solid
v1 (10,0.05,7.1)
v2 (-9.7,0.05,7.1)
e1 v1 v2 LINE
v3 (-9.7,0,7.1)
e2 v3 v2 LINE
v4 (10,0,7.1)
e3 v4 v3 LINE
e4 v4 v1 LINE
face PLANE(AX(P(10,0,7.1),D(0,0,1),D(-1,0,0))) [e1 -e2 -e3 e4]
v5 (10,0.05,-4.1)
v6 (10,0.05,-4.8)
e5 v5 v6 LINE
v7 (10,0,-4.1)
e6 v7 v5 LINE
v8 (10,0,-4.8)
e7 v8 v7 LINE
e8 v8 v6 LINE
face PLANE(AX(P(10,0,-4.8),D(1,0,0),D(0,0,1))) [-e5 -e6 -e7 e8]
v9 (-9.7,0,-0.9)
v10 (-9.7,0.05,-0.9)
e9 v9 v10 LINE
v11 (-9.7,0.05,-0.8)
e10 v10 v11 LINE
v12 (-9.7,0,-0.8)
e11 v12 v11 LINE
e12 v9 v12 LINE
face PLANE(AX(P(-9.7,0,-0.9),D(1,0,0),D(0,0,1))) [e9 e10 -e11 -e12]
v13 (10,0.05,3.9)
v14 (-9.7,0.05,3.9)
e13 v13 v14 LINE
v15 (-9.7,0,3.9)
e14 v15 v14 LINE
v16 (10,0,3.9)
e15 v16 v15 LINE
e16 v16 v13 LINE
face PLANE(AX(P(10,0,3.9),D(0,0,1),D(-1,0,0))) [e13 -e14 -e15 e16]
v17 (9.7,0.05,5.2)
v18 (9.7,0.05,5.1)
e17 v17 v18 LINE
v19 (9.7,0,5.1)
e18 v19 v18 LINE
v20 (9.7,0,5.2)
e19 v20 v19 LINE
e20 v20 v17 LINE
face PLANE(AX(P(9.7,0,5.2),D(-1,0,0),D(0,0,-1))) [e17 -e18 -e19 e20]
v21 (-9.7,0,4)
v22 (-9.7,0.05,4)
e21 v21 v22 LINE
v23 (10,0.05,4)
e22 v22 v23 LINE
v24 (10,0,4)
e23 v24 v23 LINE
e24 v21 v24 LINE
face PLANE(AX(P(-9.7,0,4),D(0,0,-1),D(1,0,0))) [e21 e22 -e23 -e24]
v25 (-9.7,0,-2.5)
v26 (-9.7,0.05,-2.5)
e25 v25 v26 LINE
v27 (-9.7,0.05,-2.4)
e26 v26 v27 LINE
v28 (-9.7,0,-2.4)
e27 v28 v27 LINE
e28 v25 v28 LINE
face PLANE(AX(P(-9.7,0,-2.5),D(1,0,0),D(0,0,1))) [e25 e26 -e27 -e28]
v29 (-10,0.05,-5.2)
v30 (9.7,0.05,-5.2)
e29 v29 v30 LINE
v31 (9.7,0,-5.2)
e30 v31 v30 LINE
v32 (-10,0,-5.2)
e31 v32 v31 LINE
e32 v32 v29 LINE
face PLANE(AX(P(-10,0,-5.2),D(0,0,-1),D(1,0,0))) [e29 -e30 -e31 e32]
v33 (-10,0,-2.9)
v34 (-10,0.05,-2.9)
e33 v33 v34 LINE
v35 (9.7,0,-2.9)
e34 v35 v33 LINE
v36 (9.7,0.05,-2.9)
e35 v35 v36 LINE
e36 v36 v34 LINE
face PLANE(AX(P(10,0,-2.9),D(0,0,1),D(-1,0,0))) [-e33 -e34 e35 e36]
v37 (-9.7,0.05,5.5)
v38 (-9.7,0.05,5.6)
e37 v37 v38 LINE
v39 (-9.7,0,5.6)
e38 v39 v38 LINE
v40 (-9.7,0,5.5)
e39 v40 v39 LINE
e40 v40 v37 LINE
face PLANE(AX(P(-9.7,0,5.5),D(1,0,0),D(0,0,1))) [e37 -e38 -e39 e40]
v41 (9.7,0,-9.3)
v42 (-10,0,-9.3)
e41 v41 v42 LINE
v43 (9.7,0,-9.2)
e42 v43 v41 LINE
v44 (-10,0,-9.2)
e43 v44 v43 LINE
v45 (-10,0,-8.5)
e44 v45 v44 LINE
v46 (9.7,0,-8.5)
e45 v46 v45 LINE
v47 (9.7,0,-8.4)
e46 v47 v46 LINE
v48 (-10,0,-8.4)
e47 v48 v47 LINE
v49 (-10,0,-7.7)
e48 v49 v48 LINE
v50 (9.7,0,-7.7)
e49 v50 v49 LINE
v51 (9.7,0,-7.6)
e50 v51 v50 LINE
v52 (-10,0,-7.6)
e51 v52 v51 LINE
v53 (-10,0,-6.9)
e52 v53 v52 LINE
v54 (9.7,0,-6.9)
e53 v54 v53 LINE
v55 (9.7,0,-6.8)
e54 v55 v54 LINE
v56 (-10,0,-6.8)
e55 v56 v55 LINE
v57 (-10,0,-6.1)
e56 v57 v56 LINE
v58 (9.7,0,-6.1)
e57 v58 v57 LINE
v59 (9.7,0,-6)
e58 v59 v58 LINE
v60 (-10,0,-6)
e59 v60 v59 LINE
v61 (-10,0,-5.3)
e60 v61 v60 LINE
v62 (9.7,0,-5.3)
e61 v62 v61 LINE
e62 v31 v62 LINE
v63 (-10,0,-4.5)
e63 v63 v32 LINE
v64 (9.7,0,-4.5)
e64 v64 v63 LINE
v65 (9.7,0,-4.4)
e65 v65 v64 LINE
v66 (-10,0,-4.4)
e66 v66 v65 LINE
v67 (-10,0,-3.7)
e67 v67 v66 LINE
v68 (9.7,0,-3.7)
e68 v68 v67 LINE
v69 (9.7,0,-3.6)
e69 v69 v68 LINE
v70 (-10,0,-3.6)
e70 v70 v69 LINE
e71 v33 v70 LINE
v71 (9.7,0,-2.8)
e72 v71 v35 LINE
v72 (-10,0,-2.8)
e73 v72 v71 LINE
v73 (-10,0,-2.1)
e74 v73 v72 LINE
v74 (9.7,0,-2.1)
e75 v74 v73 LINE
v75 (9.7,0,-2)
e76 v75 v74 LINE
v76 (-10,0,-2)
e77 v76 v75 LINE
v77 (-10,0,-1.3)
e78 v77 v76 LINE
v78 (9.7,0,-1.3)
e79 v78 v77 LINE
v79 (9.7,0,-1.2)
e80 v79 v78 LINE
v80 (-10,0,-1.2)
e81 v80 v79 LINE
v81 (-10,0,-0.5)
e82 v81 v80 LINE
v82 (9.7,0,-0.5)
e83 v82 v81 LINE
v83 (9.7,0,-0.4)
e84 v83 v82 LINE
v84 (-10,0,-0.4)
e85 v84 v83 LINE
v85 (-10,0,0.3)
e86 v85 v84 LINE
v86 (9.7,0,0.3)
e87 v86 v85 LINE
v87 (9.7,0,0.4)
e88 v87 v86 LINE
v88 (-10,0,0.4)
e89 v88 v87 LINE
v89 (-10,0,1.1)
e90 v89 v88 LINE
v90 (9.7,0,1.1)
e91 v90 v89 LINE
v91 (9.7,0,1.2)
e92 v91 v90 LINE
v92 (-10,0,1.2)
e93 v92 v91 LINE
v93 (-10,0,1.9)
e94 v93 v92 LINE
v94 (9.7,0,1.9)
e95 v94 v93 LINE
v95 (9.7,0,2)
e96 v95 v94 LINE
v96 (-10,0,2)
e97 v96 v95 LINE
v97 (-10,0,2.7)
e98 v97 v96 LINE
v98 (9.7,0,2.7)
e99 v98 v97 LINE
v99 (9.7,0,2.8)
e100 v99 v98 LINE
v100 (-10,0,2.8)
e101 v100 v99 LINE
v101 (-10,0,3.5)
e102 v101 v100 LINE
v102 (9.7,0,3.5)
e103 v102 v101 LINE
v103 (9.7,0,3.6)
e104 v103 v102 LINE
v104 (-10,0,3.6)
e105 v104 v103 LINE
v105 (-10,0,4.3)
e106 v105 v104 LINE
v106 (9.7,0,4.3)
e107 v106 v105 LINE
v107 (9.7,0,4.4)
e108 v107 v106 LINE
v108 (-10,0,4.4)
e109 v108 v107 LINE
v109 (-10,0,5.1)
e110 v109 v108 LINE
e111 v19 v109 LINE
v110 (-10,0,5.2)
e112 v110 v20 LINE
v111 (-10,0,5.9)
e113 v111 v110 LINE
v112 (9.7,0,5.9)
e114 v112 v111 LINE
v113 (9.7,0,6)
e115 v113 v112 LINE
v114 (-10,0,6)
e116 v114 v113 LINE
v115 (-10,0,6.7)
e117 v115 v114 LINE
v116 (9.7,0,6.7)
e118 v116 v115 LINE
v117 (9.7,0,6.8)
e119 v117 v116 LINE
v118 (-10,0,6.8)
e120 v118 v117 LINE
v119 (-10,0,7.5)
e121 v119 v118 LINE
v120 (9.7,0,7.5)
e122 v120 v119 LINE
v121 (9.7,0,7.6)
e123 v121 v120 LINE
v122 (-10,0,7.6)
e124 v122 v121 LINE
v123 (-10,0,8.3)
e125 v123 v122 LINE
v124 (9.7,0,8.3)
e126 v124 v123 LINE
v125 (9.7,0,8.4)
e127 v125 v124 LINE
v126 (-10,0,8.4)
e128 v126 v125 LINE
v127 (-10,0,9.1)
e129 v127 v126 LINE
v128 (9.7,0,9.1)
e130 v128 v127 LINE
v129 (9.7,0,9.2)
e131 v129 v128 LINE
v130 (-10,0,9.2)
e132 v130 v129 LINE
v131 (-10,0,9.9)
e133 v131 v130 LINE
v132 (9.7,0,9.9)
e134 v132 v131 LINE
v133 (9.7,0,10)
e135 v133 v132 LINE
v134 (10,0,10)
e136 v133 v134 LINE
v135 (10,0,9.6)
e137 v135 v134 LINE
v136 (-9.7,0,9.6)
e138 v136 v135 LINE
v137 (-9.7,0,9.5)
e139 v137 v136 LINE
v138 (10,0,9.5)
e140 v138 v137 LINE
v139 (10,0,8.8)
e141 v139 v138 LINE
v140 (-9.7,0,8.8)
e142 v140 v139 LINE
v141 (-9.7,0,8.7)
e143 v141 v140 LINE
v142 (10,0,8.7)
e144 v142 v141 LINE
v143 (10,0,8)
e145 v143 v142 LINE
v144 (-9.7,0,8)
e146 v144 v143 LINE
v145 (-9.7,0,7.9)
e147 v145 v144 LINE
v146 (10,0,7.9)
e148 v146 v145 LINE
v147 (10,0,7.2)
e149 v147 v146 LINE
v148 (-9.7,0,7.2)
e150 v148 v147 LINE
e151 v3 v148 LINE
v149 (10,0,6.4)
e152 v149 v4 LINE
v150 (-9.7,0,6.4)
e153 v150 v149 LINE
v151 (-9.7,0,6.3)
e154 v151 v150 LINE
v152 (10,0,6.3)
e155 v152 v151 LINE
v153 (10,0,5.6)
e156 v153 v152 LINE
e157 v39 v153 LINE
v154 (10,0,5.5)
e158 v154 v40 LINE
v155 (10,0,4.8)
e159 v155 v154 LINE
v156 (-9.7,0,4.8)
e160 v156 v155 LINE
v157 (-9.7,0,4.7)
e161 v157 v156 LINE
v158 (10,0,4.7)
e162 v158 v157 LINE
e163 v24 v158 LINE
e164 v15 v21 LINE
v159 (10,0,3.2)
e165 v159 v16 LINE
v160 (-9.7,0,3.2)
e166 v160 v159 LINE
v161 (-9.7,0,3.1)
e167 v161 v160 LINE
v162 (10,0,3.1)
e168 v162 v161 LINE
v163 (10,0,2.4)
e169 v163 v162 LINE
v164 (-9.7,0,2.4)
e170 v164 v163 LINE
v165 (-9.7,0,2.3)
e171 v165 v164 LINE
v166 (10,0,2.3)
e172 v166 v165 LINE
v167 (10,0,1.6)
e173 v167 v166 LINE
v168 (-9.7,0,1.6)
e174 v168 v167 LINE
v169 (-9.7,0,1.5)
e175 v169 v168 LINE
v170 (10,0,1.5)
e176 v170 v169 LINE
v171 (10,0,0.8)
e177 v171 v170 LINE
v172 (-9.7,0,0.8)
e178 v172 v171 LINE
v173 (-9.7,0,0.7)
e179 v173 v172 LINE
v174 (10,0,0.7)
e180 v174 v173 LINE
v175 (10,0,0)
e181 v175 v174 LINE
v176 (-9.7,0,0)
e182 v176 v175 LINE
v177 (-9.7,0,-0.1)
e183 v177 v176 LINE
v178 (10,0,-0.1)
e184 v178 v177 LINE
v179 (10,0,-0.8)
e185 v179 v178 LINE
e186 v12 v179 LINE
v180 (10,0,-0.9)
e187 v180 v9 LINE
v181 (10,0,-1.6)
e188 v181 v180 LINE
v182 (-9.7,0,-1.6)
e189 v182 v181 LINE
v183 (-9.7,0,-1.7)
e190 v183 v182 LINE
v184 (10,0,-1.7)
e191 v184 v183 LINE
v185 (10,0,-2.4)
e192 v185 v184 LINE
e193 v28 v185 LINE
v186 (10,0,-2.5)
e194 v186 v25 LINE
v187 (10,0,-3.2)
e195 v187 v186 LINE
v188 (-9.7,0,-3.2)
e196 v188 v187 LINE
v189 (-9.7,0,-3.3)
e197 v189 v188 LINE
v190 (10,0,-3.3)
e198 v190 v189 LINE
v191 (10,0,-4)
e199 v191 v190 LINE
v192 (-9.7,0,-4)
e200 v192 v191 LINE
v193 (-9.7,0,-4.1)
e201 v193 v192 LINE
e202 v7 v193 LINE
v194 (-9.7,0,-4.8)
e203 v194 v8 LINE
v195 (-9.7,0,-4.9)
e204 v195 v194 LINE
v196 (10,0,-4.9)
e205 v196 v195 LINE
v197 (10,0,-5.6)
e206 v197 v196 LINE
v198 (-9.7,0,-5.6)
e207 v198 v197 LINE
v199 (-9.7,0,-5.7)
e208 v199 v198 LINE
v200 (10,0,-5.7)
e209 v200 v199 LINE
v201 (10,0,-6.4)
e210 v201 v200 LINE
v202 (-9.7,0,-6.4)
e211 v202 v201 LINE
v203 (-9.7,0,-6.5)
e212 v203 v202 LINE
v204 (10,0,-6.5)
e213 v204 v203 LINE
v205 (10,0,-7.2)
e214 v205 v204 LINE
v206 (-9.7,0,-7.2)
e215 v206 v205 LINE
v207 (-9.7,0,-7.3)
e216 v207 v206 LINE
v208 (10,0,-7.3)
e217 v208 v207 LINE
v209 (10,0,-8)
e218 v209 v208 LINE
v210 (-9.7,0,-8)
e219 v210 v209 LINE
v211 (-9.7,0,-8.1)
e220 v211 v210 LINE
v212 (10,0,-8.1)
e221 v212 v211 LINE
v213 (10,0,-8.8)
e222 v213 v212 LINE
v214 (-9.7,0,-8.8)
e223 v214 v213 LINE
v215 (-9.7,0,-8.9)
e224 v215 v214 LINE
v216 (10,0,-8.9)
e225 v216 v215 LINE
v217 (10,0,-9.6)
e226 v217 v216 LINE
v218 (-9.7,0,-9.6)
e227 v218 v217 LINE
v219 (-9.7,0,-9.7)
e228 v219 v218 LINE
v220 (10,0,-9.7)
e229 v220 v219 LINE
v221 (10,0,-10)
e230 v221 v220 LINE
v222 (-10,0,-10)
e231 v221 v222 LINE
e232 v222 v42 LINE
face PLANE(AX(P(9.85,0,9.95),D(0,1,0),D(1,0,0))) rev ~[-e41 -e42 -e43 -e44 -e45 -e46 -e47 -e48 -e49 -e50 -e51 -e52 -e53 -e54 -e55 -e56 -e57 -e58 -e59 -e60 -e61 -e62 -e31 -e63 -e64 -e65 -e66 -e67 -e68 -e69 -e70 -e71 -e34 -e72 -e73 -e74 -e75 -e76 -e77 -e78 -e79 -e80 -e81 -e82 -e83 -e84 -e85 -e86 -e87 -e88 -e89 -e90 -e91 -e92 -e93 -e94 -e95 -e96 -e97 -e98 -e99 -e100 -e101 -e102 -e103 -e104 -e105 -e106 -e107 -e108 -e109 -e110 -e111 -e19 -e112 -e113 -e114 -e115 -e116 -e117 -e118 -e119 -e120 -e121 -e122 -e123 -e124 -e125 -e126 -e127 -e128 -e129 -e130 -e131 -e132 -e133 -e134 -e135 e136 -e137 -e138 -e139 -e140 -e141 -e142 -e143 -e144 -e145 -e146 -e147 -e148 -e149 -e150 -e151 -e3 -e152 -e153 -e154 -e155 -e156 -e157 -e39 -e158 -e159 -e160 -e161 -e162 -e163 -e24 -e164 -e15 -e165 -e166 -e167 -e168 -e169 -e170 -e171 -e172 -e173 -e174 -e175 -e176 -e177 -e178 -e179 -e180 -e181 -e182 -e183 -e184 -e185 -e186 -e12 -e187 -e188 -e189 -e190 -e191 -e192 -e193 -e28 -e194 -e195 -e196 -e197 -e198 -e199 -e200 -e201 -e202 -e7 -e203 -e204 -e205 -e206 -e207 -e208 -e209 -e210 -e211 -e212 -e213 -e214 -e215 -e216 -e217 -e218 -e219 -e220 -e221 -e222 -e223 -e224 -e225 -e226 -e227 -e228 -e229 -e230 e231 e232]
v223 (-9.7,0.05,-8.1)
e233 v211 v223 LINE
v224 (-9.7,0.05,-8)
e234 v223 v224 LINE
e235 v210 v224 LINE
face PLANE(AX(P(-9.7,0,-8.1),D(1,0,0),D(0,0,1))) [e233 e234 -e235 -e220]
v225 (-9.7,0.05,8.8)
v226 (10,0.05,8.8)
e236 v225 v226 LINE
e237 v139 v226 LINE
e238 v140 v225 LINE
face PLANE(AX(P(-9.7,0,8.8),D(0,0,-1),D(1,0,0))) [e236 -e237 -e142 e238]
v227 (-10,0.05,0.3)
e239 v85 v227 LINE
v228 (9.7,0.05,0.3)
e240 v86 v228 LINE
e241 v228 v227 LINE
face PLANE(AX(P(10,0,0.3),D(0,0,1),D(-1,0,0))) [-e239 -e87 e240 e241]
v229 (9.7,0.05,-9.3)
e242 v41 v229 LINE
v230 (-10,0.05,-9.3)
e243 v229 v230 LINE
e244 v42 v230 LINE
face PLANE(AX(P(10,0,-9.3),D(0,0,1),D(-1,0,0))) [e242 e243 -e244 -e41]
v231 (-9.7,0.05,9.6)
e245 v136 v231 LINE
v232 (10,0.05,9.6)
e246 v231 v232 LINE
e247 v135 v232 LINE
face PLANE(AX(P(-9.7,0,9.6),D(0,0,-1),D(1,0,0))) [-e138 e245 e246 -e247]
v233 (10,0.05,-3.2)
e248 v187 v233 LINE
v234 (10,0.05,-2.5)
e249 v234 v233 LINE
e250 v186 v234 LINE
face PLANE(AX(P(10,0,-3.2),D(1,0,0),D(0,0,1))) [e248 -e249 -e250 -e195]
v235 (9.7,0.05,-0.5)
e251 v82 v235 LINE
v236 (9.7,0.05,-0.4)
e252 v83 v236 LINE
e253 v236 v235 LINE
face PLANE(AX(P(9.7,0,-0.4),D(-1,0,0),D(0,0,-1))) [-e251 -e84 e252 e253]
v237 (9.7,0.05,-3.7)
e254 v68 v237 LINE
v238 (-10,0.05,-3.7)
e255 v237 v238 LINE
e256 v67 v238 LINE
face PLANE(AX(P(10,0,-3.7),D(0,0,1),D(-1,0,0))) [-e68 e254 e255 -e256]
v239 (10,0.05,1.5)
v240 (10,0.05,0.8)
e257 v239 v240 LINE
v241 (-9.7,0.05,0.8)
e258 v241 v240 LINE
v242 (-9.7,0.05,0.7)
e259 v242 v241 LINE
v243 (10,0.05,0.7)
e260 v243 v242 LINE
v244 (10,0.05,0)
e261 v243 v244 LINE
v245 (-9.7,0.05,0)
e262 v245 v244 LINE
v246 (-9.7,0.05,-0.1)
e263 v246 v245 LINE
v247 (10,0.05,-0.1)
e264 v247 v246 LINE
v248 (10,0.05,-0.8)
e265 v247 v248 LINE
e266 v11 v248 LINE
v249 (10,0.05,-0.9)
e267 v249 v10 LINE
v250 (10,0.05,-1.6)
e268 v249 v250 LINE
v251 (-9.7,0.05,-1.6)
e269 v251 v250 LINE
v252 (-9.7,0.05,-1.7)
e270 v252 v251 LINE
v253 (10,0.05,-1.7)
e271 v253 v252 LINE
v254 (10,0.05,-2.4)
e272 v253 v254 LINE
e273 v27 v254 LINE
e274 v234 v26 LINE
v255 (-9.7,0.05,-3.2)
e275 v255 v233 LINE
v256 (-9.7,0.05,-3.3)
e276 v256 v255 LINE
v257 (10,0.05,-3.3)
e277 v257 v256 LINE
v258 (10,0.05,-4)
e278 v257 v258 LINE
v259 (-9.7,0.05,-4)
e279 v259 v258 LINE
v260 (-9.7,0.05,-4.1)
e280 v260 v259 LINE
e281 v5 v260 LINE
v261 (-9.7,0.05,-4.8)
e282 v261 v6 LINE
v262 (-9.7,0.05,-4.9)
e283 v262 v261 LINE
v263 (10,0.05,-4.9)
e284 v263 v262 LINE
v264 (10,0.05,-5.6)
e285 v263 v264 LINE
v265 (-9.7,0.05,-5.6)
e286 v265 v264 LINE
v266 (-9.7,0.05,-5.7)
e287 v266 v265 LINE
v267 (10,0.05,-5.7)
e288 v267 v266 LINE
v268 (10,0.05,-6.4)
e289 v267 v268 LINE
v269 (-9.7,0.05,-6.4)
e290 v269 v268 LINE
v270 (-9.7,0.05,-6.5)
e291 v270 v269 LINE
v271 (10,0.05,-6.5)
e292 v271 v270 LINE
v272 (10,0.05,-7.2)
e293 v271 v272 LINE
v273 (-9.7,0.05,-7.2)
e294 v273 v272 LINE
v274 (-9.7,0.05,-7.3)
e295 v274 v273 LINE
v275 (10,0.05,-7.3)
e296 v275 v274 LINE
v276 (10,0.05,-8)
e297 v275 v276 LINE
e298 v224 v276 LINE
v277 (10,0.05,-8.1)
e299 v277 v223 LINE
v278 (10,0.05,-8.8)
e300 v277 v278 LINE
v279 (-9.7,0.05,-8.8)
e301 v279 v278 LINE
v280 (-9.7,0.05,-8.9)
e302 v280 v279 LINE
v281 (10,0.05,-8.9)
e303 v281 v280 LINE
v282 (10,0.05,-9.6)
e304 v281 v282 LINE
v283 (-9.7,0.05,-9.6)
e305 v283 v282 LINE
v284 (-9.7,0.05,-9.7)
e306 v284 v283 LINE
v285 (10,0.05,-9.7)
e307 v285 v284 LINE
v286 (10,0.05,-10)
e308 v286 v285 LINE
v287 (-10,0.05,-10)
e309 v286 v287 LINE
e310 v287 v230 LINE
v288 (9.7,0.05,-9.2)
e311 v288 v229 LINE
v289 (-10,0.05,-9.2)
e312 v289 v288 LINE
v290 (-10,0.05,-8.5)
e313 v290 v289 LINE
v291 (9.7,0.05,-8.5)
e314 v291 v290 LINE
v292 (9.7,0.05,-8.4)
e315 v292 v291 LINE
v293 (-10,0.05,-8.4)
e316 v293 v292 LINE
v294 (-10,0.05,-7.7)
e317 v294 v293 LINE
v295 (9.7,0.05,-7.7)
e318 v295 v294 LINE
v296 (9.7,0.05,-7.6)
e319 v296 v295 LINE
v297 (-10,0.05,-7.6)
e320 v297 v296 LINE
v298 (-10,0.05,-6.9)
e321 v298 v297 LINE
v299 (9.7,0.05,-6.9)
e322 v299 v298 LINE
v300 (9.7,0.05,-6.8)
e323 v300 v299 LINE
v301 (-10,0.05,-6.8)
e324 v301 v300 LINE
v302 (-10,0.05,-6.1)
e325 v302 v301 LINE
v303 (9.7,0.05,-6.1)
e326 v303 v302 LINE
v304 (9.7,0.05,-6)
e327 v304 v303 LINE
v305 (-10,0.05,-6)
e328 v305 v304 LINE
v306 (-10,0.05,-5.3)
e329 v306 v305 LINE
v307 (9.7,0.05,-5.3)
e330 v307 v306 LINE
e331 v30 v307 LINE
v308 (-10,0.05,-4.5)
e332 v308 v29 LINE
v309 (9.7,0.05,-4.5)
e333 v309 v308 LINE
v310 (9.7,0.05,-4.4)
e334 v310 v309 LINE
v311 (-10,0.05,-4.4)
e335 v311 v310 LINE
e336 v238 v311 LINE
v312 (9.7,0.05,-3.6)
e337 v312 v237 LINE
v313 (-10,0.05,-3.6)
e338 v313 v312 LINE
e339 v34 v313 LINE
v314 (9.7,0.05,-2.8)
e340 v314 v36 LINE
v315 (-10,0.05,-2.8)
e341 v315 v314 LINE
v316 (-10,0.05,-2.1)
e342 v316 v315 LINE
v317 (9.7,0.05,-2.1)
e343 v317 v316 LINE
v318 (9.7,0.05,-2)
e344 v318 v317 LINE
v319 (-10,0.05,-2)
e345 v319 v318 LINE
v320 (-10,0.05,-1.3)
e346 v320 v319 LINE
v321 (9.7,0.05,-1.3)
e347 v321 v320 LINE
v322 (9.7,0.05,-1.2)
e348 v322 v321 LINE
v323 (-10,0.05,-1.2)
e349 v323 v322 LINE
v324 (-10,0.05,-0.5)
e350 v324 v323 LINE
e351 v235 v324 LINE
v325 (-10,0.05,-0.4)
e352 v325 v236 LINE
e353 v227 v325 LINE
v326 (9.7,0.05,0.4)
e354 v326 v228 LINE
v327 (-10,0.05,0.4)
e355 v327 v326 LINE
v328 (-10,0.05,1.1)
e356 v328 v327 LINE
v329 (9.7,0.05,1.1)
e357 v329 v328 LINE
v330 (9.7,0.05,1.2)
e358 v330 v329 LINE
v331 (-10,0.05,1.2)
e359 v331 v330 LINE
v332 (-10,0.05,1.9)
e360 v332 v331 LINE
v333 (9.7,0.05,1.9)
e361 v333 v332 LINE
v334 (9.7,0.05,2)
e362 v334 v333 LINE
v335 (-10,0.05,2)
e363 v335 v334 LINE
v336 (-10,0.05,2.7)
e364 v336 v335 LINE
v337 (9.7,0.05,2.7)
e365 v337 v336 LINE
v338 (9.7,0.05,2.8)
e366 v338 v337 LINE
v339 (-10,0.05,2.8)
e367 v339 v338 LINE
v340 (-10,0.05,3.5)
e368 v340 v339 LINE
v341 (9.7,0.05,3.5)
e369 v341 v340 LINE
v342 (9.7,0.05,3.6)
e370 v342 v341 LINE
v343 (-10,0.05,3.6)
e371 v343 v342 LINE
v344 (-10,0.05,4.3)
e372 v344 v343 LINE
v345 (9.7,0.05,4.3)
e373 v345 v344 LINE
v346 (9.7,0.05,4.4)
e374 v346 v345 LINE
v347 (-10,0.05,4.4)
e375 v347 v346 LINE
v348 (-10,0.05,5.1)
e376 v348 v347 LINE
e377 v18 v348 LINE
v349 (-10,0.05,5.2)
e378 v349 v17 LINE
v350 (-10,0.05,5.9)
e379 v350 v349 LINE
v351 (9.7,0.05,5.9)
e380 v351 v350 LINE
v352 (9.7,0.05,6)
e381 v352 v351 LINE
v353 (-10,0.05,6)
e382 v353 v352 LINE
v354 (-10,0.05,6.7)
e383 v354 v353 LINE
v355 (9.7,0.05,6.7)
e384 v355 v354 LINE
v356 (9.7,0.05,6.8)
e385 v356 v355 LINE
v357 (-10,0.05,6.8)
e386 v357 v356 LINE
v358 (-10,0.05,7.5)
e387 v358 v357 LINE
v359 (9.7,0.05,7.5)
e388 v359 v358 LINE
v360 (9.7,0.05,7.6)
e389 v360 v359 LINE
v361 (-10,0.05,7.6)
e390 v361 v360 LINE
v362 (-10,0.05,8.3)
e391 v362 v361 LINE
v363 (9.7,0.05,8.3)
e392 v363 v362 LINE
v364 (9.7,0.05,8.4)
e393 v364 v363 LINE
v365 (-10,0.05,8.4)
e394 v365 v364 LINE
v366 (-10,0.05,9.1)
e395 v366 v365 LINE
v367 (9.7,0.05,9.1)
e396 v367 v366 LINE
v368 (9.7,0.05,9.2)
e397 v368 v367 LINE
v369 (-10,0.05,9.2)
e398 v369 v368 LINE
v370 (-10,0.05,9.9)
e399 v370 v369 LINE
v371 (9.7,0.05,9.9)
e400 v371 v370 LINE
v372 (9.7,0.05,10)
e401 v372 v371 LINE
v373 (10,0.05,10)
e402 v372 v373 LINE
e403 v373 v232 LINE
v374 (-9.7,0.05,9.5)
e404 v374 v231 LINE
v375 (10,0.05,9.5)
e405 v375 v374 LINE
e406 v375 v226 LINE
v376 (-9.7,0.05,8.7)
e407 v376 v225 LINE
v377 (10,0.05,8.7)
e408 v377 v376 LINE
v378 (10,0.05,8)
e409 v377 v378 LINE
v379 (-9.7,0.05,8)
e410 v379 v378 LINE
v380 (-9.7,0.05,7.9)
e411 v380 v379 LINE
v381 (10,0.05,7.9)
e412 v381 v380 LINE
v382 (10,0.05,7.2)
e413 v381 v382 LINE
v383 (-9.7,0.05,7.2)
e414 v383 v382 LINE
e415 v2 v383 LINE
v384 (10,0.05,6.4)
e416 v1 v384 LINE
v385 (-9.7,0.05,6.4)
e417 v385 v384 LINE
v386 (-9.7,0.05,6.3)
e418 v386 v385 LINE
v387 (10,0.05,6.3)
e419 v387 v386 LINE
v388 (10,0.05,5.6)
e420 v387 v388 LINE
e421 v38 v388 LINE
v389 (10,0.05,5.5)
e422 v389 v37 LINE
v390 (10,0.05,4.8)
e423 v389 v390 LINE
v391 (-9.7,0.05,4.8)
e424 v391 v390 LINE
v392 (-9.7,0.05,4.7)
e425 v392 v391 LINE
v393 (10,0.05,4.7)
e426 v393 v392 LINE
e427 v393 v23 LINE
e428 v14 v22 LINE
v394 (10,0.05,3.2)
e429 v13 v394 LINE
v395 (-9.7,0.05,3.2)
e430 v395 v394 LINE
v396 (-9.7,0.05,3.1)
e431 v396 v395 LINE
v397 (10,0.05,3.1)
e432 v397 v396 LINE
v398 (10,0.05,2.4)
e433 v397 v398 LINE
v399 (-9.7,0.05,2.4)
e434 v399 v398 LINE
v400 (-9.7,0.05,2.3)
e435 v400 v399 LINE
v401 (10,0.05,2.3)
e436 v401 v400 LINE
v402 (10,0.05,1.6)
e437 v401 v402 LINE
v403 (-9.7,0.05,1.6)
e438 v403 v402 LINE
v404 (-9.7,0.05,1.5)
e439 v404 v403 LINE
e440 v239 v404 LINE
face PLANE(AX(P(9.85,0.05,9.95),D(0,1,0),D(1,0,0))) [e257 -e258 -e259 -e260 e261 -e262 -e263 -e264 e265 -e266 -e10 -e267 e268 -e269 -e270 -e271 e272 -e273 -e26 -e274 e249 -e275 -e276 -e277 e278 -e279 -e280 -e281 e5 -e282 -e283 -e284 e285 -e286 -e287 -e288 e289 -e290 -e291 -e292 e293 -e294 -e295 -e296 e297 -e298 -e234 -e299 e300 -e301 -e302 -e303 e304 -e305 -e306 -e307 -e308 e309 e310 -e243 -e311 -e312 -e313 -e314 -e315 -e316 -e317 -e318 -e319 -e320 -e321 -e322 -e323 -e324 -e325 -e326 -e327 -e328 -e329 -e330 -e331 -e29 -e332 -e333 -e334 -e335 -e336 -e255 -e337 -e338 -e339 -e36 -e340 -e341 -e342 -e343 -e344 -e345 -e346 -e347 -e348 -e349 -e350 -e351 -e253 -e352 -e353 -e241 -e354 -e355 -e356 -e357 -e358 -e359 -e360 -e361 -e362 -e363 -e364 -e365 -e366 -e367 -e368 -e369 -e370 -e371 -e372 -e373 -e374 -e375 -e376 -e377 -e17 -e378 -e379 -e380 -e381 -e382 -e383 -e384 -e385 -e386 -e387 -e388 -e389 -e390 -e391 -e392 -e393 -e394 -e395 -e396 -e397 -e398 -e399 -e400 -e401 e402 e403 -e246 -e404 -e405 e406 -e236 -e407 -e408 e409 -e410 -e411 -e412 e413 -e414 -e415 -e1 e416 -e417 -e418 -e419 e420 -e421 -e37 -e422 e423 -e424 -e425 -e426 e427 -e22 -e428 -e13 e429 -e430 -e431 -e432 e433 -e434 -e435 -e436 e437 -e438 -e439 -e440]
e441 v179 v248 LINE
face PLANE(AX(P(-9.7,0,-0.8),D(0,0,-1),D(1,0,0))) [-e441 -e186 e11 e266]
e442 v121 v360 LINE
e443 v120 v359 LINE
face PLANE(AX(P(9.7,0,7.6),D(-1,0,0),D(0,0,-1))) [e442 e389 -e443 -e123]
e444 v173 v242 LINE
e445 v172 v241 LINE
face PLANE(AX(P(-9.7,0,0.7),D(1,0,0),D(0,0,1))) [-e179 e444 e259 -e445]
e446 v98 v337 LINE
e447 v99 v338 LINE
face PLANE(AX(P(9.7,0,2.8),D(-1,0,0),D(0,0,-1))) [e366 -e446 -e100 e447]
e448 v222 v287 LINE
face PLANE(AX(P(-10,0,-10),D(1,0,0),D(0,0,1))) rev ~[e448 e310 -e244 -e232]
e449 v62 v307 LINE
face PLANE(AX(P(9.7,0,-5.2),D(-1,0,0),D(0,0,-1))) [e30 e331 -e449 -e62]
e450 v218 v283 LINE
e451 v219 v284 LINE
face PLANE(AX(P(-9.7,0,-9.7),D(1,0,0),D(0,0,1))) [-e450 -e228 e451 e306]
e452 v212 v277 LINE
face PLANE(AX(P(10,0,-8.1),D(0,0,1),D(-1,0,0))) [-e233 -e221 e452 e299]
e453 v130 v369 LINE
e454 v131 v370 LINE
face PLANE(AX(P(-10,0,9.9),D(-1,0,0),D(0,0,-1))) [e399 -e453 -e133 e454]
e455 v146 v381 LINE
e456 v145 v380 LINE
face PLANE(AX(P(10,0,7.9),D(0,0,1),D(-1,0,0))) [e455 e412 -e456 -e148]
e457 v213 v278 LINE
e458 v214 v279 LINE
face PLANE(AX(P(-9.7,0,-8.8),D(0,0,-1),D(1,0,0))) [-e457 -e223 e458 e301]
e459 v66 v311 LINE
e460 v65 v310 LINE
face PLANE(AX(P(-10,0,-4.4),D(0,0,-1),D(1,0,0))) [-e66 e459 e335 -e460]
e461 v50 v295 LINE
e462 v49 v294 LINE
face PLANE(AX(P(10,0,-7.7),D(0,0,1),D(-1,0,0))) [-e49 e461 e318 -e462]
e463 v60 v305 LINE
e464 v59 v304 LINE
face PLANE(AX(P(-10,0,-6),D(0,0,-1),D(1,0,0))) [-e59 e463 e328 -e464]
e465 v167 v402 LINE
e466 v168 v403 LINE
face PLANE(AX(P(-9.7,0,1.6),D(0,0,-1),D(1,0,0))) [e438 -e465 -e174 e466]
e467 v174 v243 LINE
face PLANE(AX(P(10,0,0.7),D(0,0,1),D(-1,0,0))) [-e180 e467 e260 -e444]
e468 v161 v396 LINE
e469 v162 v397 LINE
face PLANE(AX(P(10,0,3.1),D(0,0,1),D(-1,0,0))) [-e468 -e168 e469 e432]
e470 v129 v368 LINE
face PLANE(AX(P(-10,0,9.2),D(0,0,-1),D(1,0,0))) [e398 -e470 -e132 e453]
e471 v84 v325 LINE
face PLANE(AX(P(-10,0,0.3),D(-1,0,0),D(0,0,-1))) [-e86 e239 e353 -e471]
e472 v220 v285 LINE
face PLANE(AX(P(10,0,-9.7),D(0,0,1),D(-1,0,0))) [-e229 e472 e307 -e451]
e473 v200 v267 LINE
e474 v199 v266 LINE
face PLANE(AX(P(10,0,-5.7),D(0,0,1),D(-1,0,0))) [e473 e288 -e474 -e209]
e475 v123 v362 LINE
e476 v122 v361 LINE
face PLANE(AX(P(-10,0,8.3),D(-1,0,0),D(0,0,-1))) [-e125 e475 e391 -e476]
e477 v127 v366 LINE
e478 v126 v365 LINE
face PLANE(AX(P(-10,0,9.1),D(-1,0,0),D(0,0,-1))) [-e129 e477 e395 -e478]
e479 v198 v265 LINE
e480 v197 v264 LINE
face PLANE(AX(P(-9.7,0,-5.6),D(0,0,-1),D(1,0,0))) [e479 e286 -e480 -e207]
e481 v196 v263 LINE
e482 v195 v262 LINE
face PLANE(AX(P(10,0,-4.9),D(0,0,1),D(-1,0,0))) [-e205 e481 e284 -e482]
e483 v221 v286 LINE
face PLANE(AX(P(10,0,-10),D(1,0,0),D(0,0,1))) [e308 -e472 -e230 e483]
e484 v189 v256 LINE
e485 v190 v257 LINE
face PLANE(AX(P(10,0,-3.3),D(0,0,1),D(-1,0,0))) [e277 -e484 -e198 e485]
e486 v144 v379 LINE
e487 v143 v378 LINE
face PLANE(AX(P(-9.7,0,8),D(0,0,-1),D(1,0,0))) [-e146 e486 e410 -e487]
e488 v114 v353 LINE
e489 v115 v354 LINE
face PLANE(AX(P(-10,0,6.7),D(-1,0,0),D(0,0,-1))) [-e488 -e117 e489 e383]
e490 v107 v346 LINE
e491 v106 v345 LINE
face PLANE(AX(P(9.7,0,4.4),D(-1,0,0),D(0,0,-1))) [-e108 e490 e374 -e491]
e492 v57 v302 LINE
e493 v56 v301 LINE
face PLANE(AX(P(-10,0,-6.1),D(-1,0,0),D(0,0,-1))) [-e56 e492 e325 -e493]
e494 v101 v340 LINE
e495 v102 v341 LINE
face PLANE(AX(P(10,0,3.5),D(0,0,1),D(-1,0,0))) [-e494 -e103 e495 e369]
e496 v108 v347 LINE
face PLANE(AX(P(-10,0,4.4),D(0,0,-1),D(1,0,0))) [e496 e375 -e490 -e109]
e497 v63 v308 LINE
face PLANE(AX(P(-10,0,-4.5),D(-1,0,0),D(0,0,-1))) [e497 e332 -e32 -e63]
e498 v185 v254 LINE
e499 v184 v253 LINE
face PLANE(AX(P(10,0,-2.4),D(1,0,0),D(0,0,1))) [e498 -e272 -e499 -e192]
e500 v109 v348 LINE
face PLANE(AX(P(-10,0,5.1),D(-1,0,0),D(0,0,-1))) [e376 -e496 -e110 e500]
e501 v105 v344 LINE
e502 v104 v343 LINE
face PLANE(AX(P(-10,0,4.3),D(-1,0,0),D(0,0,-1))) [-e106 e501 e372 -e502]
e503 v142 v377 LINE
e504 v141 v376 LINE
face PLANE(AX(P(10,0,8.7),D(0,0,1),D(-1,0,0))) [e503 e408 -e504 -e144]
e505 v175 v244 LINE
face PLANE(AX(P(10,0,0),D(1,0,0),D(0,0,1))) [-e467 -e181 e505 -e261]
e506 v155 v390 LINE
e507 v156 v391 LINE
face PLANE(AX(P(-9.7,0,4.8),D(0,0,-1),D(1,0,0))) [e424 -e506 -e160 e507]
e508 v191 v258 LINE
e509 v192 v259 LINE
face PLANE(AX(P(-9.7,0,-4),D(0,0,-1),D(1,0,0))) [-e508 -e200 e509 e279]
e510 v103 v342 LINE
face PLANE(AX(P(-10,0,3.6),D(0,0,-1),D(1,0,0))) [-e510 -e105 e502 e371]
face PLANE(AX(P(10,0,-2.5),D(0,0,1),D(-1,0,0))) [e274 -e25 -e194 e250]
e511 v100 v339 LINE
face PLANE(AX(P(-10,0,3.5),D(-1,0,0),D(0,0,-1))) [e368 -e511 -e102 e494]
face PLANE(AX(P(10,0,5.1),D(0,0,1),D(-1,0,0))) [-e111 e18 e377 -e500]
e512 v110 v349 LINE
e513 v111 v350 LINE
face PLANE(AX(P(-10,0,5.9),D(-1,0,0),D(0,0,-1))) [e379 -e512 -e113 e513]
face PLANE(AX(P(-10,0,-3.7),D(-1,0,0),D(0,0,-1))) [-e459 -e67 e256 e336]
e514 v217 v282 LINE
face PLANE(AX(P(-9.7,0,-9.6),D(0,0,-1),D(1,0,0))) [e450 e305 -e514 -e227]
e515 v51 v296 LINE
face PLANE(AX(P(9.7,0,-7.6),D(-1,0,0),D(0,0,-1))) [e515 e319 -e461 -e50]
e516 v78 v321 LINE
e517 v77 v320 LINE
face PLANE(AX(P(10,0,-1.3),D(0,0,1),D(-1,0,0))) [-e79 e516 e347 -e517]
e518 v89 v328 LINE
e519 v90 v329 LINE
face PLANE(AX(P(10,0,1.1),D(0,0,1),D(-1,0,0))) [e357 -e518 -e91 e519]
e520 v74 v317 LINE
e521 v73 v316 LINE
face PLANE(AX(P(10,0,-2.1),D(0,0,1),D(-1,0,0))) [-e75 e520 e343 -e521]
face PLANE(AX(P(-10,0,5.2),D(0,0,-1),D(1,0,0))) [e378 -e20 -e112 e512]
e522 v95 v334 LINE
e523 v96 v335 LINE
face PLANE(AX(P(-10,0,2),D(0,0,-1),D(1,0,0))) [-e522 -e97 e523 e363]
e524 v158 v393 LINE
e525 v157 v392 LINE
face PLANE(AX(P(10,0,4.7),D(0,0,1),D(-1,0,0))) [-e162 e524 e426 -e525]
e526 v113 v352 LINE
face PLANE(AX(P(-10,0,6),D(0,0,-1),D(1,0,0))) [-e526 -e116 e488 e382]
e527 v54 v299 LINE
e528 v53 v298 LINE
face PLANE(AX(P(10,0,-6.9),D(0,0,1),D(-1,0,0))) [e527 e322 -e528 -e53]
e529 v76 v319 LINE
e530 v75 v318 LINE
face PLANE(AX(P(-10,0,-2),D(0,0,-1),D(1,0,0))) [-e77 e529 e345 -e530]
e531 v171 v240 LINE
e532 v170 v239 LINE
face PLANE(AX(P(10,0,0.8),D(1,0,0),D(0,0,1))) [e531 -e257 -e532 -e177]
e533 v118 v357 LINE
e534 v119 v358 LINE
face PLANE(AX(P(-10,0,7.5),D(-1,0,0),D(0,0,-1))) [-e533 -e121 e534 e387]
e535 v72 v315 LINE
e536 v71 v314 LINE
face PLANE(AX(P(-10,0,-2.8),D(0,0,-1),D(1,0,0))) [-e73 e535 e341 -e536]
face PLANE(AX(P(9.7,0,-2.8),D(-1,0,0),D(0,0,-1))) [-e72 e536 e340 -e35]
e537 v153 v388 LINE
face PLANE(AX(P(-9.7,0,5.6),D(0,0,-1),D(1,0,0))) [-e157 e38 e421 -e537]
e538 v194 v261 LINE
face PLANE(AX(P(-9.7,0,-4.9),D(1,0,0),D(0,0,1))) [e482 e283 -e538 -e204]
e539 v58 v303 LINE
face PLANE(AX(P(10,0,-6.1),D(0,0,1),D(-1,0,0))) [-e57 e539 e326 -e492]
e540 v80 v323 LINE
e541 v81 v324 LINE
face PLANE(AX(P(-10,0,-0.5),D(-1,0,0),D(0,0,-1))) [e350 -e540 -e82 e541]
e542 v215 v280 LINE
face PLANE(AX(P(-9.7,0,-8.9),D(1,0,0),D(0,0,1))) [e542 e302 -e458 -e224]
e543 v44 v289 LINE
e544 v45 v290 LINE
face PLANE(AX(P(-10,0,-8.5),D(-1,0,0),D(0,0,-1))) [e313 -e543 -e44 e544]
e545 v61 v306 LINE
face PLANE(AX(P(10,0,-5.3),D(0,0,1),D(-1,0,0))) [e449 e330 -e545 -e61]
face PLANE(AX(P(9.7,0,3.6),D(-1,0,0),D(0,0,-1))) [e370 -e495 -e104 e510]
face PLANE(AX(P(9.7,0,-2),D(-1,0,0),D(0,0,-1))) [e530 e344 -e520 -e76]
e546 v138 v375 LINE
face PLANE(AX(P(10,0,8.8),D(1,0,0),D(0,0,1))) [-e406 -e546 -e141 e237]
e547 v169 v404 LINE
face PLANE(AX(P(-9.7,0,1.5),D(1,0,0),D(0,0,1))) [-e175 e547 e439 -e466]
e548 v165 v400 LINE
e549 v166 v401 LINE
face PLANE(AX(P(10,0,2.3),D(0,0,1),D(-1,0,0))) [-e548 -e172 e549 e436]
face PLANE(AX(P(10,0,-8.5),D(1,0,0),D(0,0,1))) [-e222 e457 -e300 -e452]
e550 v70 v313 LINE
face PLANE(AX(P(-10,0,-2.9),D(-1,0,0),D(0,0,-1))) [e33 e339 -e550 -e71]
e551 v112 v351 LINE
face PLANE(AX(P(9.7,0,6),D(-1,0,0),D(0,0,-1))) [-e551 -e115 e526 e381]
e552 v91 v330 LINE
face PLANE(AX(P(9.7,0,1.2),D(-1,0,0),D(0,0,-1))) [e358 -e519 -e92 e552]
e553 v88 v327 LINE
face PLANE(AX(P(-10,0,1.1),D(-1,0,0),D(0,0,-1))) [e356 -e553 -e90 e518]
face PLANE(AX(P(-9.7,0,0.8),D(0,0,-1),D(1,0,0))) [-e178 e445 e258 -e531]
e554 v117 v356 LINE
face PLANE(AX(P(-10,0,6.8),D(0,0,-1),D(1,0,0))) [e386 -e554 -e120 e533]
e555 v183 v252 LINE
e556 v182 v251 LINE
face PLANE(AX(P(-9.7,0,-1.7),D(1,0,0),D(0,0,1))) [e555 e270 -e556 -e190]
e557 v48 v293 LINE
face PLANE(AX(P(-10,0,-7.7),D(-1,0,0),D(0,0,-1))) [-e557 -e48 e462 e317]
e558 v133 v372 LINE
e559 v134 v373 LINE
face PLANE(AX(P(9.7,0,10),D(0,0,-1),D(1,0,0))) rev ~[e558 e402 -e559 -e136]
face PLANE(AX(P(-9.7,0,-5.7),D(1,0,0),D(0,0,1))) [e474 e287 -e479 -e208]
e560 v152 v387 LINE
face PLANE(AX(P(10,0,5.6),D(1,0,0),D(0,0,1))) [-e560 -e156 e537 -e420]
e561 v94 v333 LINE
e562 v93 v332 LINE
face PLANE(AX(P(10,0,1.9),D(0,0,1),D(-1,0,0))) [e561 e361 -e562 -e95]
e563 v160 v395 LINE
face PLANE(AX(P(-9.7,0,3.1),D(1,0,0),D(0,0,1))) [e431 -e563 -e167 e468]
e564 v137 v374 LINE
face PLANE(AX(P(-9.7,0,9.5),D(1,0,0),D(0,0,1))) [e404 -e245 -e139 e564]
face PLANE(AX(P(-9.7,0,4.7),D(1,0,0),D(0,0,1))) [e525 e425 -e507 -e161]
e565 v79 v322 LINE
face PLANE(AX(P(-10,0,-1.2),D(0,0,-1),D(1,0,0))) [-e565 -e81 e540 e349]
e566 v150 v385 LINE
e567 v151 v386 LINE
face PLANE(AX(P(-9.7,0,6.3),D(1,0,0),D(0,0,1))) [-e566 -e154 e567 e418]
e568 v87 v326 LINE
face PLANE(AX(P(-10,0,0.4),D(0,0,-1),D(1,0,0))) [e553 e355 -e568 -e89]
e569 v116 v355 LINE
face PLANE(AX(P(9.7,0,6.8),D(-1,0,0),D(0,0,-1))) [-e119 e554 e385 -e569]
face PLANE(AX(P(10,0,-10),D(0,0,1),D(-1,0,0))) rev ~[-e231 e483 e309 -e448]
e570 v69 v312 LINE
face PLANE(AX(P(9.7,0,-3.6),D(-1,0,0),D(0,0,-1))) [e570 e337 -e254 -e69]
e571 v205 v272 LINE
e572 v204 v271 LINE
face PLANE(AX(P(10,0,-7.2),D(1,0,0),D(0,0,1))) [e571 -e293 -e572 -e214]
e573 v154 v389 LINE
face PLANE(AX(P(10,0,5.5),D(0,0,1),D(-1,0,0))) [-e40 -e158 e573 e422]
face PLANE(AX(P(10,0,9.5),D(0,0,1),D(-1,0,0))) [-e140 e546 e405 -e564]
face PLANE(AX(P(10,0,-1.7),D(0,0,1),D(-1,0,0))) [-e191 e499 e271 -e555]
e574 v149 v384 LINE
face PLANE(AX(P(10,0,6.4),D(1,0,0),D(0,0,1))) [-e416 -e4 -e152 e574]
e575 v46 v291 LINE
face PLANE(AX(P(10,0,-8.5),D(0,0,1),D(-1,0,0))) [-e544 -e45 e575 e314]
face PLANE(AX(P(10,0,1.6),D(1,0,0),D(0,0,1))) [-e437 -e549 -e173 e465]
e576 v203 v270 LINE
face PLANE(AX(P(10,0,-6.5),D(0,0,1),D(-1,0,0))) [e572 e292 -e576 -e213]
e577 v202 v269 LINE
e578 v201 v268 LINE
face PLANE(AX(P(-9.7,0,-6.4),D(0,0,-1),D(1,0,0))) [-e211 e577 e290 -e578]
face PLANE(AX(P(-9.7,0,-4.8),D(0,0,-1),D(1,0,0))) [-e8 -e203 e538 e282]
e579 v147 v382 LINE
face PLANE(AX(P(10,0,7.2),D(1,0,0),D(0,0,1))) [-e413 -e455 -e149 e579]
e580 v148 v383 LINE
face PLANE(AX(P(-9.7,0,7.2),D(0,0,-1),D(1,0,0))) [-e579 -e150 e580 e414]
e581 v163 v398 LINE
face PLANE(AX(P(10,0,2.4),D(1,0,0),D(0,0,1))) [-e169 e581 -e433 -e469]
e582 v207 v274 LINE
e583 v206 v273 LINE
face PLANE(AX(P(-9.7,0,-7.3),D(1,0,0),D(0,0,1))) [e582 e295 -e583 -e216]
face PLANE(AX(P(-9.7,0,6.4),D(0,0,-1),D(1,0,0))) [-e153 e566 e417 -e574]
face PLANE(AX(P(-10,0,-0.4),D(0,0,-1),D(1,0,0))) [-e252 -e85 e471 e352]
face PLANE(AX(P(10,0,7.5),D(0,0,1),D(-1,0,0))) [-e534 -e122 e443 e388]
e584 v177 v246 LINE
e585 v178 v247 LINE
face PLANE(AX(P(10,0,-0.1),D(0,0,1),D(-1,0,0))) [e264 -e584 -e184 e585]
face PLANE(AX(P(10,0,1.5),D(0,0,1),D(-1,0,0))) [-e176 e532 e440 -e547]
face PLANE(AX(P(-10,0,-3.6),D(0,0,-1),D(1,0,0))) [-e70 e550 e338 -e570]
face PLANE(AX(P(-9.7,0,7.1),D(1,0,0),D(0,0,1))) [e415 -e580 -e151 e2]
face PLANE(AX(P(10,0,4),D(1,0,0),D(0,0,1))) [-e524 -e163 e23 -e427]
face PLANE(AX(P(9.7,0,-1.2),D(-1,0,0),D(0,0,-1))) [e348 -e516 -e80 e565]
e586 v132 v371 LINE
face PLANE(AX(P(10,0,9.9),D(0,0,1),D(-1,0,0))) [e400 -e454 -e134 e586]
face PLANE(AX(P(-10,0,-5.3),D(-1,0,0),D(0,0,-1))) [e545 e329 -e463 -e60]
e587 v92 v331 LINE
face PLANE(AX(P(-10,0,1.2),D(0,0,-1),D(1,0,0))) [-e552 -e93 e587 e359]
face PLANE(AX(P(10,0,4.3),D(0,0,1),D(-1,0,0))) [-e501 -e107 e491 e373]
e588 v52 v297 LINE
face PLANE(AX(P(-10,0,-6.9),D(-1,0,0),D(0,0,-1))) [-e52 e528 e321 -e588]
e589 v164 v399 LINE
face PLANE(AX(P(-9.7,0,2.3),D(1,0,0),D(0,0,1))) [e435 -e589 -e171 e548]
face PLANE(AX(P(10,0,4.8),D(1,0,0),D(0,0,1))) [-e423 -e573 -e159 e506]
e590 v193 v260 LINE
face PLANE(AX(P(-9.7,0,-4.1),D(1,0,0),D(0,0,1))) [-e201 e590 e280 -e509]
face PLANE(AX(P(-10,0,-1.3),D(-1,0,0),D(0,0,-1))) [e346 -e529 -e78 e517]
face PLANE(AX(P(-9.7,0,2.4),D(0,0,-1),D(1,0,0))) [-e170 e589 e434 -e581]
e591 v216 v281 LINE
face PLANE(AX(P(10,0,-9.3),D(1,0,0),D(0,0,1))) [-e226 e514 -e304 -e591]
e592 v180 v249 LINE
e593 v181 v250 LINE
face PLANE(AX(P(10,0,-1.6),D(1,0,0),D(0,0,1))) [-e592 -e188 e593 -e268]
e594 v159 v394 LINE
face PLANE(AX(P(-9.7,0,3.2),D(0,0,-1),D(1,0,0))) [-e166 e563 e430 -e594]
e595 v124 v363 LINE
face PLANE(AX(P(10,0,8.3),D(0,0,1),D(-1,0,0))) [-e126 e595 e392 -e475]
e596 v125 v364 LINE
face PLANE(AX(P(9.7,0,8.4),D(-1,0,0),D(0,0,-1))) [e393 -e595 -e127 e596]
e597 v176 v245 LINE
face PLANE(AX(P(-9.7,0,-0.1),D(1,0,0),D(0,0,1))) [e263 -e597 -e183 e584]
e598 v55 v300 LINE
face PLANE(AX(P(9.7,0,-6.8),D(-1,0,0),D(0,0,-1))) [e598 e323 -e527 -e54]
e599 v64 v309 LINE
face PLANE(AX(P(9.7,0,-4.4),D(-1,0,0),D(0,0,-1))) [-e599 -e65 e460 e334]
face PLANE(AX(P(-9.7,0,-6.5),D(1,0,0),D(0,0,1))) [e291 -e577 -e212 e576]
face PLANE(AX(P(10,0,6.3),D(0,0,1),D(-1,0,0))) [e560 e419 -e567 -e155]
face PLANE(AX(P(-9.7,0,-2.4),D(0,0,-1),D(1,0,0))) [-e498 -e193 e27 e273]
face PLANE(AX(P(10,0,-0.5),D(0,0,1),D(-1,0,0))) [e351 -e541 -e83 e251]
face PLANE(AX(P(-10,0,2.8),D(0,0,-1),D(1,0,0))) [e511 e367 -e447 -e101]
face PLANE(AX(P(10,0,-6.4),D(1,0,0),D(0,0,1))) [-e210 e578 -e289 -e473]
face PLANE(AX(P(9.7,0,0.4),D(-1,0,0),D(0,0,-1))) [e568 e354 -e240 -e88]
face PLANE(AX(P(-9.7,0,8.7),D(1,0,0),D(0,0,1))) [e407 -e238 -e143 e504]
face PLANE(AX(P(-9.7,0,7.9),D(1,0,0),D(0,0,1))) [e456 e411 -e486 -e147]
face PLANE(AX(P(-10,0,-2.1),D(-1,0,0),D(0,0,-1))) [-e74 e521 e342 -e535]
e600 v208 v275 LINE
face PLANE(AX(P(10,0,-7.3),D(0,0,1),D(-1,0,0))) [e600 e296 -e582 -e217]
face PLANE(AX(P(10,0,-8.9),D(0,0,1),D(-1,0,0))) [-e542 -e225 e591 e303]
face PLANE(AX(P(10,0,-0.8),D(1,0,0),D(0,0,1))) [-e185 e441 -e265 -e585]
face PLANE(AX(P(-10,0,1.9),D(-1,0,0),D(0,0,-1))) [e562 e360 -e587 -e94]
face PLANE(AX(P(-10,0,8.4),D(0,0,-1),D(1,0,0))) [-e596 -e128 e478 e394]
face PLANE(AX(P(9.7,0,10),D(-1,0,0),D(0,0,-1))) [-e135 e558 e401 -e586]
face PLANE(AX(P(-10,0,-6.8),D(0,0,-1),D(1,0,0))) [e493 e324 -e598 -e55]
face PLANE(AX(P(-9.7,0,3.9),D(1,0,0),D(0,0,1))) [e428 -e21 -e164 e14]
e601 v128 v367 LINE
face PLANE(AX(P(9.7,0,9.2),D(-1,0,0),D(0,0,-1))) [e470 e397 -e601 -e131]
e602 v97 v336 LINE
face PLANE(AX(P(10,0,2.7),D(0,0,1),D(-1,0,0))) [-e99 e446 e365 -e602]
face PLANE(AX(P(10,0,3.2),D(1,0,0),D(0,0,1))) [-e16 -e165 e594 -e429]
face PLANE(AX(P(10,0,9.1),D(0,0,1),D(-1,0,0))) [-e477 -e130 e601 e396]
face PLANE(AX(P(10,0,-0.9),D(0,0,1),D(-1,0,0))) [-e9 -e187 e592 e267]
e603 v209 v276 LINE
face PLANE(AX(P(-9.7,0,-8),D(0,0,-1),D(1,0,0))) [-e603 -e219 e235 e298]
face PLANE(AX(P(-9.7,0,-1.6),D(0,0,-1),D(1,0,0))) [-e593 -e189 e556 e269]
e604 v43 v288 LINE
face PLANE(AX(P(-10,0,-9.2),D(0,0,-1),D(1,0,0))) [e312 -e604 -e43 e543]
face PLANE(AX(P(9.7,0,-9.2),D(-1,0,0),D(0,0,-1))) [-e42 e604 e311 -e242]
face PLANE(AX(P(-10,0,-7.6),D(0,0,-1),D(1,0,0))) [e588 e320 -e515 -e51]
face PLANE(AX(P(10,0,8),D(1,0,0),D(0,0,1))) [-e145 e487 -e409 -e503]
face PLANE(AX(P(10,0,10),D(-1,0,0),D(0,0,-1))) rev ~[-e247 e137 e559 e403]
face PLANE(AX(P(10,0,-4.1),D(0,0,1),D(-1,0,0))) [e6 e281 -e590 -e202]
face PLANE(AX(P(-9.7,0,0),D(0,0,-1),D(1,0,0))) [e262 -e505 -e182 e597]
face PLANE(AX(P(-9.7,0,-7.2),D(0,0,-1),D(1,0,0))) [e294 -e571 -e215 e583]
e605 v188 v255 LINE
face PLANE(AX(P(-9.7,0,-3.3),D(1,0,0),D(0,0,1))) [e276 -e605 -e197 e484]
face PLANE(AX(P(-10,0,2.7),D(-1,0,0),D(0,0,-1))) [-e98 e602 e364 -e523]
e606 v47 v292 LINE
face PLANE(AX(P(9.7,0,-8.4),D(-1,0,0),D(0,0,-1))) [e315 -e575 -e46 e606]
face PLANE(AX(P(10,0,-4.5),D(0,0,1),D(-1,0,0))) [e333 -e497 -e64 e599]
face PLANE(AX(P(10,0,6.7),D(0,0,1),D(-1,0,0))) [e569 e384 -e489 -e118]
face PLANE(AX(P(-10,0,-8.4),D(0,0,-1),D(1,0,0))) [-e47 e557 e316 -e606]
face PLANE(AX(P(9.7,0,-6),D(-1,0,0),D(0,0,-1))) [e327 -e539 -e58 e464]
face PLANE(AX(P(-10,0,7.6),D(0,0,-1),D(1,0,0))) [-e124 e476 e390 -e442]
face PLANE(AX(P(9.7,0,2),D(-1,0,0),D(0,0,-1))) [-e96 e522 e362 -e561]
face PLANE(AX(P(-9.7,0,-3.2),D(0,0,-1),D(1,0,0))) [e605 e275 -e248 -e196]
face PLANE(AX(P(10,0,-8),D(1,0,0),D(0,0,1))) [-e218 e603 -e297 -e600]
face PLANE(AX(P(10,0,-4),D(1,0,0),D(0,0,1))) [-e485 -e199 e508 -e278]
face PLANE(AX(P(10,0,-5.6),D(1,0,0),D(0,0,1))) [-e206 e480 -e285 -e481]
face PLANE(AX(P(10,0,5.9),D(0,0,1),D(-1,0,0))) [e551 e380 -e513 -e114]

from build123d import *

# Parameters (mm, degrees)
EXTRUDED_OBJECT_DEPTH = 0.05
BOSS_EXTRUDE1_DEPTH   = 0.05
LPATTERN2_COUNT       = 24
LPATTERN2_PITCH       = 0.8
SKETCH4_W             = 0.3
SKETCH4_H             = 0.1
BOSS_EXTRUDE2_DEPTH   = 0.05


with BuildPart() as part:
    # TopBlock → Extruded object (new body)
    with BuildSketch(Plane(origin=(0, 0, 0), x_dir=(1, 0, 0), z_dir=(0, 1, 0))):
        Polygon((-10, 10), (-9.7, 10), (10, 10), (10, 9.7), (-9.7, 9.7), (-9.7, 9.6), (10, 9.6), (10, 9.3), (-10, 9.3), (-10, 9.6), (-10, 9.7), align=None)
    extrude(amount=EXTRUDED_OBJECT_DEPTH)

    # Sketch3 → Boss-Extrude1 (add)
    with BuildSketch(Plane(origin=(0, 0, 0), x_dir=(1, 0, 0), z_dir=(0, 1, 0))):
        Polygon((9.7, 9.2), (9.7, 9.3), (10, 9.3), (10, 8.9), (-9.7, 8.9), (-9.7, 8.8), (10, 8.8), (10, 8.5), (-10, 8.5), (-10, 9.2), align=None)
    boss_extrude1 = extrude(amount=BOSS_EXTRUDE1_DEPTH)

    # LPattern2: Boss-Extrude1 ×24
    with Locations(*[(0, 0, i * LPATTERN2_PITCH) for i in range(1, LPATTERN2_COUNT)]):
        add(boss_extrude1)

    # Sketch4 → Boss-Extrude2 (add)
    with BuildSketch(Plane(origin=(0, 0, 0), x_dir=(1, 0, 0), z_dir=(0, 1, 0))):
        with Locations((9.85, -9.95)):
            Rectangle(SKETCH4_W, SKETCH4_H)
    extrude(amount=BOSS_EXTRUDE2_DEPTH)


solid = part.part
